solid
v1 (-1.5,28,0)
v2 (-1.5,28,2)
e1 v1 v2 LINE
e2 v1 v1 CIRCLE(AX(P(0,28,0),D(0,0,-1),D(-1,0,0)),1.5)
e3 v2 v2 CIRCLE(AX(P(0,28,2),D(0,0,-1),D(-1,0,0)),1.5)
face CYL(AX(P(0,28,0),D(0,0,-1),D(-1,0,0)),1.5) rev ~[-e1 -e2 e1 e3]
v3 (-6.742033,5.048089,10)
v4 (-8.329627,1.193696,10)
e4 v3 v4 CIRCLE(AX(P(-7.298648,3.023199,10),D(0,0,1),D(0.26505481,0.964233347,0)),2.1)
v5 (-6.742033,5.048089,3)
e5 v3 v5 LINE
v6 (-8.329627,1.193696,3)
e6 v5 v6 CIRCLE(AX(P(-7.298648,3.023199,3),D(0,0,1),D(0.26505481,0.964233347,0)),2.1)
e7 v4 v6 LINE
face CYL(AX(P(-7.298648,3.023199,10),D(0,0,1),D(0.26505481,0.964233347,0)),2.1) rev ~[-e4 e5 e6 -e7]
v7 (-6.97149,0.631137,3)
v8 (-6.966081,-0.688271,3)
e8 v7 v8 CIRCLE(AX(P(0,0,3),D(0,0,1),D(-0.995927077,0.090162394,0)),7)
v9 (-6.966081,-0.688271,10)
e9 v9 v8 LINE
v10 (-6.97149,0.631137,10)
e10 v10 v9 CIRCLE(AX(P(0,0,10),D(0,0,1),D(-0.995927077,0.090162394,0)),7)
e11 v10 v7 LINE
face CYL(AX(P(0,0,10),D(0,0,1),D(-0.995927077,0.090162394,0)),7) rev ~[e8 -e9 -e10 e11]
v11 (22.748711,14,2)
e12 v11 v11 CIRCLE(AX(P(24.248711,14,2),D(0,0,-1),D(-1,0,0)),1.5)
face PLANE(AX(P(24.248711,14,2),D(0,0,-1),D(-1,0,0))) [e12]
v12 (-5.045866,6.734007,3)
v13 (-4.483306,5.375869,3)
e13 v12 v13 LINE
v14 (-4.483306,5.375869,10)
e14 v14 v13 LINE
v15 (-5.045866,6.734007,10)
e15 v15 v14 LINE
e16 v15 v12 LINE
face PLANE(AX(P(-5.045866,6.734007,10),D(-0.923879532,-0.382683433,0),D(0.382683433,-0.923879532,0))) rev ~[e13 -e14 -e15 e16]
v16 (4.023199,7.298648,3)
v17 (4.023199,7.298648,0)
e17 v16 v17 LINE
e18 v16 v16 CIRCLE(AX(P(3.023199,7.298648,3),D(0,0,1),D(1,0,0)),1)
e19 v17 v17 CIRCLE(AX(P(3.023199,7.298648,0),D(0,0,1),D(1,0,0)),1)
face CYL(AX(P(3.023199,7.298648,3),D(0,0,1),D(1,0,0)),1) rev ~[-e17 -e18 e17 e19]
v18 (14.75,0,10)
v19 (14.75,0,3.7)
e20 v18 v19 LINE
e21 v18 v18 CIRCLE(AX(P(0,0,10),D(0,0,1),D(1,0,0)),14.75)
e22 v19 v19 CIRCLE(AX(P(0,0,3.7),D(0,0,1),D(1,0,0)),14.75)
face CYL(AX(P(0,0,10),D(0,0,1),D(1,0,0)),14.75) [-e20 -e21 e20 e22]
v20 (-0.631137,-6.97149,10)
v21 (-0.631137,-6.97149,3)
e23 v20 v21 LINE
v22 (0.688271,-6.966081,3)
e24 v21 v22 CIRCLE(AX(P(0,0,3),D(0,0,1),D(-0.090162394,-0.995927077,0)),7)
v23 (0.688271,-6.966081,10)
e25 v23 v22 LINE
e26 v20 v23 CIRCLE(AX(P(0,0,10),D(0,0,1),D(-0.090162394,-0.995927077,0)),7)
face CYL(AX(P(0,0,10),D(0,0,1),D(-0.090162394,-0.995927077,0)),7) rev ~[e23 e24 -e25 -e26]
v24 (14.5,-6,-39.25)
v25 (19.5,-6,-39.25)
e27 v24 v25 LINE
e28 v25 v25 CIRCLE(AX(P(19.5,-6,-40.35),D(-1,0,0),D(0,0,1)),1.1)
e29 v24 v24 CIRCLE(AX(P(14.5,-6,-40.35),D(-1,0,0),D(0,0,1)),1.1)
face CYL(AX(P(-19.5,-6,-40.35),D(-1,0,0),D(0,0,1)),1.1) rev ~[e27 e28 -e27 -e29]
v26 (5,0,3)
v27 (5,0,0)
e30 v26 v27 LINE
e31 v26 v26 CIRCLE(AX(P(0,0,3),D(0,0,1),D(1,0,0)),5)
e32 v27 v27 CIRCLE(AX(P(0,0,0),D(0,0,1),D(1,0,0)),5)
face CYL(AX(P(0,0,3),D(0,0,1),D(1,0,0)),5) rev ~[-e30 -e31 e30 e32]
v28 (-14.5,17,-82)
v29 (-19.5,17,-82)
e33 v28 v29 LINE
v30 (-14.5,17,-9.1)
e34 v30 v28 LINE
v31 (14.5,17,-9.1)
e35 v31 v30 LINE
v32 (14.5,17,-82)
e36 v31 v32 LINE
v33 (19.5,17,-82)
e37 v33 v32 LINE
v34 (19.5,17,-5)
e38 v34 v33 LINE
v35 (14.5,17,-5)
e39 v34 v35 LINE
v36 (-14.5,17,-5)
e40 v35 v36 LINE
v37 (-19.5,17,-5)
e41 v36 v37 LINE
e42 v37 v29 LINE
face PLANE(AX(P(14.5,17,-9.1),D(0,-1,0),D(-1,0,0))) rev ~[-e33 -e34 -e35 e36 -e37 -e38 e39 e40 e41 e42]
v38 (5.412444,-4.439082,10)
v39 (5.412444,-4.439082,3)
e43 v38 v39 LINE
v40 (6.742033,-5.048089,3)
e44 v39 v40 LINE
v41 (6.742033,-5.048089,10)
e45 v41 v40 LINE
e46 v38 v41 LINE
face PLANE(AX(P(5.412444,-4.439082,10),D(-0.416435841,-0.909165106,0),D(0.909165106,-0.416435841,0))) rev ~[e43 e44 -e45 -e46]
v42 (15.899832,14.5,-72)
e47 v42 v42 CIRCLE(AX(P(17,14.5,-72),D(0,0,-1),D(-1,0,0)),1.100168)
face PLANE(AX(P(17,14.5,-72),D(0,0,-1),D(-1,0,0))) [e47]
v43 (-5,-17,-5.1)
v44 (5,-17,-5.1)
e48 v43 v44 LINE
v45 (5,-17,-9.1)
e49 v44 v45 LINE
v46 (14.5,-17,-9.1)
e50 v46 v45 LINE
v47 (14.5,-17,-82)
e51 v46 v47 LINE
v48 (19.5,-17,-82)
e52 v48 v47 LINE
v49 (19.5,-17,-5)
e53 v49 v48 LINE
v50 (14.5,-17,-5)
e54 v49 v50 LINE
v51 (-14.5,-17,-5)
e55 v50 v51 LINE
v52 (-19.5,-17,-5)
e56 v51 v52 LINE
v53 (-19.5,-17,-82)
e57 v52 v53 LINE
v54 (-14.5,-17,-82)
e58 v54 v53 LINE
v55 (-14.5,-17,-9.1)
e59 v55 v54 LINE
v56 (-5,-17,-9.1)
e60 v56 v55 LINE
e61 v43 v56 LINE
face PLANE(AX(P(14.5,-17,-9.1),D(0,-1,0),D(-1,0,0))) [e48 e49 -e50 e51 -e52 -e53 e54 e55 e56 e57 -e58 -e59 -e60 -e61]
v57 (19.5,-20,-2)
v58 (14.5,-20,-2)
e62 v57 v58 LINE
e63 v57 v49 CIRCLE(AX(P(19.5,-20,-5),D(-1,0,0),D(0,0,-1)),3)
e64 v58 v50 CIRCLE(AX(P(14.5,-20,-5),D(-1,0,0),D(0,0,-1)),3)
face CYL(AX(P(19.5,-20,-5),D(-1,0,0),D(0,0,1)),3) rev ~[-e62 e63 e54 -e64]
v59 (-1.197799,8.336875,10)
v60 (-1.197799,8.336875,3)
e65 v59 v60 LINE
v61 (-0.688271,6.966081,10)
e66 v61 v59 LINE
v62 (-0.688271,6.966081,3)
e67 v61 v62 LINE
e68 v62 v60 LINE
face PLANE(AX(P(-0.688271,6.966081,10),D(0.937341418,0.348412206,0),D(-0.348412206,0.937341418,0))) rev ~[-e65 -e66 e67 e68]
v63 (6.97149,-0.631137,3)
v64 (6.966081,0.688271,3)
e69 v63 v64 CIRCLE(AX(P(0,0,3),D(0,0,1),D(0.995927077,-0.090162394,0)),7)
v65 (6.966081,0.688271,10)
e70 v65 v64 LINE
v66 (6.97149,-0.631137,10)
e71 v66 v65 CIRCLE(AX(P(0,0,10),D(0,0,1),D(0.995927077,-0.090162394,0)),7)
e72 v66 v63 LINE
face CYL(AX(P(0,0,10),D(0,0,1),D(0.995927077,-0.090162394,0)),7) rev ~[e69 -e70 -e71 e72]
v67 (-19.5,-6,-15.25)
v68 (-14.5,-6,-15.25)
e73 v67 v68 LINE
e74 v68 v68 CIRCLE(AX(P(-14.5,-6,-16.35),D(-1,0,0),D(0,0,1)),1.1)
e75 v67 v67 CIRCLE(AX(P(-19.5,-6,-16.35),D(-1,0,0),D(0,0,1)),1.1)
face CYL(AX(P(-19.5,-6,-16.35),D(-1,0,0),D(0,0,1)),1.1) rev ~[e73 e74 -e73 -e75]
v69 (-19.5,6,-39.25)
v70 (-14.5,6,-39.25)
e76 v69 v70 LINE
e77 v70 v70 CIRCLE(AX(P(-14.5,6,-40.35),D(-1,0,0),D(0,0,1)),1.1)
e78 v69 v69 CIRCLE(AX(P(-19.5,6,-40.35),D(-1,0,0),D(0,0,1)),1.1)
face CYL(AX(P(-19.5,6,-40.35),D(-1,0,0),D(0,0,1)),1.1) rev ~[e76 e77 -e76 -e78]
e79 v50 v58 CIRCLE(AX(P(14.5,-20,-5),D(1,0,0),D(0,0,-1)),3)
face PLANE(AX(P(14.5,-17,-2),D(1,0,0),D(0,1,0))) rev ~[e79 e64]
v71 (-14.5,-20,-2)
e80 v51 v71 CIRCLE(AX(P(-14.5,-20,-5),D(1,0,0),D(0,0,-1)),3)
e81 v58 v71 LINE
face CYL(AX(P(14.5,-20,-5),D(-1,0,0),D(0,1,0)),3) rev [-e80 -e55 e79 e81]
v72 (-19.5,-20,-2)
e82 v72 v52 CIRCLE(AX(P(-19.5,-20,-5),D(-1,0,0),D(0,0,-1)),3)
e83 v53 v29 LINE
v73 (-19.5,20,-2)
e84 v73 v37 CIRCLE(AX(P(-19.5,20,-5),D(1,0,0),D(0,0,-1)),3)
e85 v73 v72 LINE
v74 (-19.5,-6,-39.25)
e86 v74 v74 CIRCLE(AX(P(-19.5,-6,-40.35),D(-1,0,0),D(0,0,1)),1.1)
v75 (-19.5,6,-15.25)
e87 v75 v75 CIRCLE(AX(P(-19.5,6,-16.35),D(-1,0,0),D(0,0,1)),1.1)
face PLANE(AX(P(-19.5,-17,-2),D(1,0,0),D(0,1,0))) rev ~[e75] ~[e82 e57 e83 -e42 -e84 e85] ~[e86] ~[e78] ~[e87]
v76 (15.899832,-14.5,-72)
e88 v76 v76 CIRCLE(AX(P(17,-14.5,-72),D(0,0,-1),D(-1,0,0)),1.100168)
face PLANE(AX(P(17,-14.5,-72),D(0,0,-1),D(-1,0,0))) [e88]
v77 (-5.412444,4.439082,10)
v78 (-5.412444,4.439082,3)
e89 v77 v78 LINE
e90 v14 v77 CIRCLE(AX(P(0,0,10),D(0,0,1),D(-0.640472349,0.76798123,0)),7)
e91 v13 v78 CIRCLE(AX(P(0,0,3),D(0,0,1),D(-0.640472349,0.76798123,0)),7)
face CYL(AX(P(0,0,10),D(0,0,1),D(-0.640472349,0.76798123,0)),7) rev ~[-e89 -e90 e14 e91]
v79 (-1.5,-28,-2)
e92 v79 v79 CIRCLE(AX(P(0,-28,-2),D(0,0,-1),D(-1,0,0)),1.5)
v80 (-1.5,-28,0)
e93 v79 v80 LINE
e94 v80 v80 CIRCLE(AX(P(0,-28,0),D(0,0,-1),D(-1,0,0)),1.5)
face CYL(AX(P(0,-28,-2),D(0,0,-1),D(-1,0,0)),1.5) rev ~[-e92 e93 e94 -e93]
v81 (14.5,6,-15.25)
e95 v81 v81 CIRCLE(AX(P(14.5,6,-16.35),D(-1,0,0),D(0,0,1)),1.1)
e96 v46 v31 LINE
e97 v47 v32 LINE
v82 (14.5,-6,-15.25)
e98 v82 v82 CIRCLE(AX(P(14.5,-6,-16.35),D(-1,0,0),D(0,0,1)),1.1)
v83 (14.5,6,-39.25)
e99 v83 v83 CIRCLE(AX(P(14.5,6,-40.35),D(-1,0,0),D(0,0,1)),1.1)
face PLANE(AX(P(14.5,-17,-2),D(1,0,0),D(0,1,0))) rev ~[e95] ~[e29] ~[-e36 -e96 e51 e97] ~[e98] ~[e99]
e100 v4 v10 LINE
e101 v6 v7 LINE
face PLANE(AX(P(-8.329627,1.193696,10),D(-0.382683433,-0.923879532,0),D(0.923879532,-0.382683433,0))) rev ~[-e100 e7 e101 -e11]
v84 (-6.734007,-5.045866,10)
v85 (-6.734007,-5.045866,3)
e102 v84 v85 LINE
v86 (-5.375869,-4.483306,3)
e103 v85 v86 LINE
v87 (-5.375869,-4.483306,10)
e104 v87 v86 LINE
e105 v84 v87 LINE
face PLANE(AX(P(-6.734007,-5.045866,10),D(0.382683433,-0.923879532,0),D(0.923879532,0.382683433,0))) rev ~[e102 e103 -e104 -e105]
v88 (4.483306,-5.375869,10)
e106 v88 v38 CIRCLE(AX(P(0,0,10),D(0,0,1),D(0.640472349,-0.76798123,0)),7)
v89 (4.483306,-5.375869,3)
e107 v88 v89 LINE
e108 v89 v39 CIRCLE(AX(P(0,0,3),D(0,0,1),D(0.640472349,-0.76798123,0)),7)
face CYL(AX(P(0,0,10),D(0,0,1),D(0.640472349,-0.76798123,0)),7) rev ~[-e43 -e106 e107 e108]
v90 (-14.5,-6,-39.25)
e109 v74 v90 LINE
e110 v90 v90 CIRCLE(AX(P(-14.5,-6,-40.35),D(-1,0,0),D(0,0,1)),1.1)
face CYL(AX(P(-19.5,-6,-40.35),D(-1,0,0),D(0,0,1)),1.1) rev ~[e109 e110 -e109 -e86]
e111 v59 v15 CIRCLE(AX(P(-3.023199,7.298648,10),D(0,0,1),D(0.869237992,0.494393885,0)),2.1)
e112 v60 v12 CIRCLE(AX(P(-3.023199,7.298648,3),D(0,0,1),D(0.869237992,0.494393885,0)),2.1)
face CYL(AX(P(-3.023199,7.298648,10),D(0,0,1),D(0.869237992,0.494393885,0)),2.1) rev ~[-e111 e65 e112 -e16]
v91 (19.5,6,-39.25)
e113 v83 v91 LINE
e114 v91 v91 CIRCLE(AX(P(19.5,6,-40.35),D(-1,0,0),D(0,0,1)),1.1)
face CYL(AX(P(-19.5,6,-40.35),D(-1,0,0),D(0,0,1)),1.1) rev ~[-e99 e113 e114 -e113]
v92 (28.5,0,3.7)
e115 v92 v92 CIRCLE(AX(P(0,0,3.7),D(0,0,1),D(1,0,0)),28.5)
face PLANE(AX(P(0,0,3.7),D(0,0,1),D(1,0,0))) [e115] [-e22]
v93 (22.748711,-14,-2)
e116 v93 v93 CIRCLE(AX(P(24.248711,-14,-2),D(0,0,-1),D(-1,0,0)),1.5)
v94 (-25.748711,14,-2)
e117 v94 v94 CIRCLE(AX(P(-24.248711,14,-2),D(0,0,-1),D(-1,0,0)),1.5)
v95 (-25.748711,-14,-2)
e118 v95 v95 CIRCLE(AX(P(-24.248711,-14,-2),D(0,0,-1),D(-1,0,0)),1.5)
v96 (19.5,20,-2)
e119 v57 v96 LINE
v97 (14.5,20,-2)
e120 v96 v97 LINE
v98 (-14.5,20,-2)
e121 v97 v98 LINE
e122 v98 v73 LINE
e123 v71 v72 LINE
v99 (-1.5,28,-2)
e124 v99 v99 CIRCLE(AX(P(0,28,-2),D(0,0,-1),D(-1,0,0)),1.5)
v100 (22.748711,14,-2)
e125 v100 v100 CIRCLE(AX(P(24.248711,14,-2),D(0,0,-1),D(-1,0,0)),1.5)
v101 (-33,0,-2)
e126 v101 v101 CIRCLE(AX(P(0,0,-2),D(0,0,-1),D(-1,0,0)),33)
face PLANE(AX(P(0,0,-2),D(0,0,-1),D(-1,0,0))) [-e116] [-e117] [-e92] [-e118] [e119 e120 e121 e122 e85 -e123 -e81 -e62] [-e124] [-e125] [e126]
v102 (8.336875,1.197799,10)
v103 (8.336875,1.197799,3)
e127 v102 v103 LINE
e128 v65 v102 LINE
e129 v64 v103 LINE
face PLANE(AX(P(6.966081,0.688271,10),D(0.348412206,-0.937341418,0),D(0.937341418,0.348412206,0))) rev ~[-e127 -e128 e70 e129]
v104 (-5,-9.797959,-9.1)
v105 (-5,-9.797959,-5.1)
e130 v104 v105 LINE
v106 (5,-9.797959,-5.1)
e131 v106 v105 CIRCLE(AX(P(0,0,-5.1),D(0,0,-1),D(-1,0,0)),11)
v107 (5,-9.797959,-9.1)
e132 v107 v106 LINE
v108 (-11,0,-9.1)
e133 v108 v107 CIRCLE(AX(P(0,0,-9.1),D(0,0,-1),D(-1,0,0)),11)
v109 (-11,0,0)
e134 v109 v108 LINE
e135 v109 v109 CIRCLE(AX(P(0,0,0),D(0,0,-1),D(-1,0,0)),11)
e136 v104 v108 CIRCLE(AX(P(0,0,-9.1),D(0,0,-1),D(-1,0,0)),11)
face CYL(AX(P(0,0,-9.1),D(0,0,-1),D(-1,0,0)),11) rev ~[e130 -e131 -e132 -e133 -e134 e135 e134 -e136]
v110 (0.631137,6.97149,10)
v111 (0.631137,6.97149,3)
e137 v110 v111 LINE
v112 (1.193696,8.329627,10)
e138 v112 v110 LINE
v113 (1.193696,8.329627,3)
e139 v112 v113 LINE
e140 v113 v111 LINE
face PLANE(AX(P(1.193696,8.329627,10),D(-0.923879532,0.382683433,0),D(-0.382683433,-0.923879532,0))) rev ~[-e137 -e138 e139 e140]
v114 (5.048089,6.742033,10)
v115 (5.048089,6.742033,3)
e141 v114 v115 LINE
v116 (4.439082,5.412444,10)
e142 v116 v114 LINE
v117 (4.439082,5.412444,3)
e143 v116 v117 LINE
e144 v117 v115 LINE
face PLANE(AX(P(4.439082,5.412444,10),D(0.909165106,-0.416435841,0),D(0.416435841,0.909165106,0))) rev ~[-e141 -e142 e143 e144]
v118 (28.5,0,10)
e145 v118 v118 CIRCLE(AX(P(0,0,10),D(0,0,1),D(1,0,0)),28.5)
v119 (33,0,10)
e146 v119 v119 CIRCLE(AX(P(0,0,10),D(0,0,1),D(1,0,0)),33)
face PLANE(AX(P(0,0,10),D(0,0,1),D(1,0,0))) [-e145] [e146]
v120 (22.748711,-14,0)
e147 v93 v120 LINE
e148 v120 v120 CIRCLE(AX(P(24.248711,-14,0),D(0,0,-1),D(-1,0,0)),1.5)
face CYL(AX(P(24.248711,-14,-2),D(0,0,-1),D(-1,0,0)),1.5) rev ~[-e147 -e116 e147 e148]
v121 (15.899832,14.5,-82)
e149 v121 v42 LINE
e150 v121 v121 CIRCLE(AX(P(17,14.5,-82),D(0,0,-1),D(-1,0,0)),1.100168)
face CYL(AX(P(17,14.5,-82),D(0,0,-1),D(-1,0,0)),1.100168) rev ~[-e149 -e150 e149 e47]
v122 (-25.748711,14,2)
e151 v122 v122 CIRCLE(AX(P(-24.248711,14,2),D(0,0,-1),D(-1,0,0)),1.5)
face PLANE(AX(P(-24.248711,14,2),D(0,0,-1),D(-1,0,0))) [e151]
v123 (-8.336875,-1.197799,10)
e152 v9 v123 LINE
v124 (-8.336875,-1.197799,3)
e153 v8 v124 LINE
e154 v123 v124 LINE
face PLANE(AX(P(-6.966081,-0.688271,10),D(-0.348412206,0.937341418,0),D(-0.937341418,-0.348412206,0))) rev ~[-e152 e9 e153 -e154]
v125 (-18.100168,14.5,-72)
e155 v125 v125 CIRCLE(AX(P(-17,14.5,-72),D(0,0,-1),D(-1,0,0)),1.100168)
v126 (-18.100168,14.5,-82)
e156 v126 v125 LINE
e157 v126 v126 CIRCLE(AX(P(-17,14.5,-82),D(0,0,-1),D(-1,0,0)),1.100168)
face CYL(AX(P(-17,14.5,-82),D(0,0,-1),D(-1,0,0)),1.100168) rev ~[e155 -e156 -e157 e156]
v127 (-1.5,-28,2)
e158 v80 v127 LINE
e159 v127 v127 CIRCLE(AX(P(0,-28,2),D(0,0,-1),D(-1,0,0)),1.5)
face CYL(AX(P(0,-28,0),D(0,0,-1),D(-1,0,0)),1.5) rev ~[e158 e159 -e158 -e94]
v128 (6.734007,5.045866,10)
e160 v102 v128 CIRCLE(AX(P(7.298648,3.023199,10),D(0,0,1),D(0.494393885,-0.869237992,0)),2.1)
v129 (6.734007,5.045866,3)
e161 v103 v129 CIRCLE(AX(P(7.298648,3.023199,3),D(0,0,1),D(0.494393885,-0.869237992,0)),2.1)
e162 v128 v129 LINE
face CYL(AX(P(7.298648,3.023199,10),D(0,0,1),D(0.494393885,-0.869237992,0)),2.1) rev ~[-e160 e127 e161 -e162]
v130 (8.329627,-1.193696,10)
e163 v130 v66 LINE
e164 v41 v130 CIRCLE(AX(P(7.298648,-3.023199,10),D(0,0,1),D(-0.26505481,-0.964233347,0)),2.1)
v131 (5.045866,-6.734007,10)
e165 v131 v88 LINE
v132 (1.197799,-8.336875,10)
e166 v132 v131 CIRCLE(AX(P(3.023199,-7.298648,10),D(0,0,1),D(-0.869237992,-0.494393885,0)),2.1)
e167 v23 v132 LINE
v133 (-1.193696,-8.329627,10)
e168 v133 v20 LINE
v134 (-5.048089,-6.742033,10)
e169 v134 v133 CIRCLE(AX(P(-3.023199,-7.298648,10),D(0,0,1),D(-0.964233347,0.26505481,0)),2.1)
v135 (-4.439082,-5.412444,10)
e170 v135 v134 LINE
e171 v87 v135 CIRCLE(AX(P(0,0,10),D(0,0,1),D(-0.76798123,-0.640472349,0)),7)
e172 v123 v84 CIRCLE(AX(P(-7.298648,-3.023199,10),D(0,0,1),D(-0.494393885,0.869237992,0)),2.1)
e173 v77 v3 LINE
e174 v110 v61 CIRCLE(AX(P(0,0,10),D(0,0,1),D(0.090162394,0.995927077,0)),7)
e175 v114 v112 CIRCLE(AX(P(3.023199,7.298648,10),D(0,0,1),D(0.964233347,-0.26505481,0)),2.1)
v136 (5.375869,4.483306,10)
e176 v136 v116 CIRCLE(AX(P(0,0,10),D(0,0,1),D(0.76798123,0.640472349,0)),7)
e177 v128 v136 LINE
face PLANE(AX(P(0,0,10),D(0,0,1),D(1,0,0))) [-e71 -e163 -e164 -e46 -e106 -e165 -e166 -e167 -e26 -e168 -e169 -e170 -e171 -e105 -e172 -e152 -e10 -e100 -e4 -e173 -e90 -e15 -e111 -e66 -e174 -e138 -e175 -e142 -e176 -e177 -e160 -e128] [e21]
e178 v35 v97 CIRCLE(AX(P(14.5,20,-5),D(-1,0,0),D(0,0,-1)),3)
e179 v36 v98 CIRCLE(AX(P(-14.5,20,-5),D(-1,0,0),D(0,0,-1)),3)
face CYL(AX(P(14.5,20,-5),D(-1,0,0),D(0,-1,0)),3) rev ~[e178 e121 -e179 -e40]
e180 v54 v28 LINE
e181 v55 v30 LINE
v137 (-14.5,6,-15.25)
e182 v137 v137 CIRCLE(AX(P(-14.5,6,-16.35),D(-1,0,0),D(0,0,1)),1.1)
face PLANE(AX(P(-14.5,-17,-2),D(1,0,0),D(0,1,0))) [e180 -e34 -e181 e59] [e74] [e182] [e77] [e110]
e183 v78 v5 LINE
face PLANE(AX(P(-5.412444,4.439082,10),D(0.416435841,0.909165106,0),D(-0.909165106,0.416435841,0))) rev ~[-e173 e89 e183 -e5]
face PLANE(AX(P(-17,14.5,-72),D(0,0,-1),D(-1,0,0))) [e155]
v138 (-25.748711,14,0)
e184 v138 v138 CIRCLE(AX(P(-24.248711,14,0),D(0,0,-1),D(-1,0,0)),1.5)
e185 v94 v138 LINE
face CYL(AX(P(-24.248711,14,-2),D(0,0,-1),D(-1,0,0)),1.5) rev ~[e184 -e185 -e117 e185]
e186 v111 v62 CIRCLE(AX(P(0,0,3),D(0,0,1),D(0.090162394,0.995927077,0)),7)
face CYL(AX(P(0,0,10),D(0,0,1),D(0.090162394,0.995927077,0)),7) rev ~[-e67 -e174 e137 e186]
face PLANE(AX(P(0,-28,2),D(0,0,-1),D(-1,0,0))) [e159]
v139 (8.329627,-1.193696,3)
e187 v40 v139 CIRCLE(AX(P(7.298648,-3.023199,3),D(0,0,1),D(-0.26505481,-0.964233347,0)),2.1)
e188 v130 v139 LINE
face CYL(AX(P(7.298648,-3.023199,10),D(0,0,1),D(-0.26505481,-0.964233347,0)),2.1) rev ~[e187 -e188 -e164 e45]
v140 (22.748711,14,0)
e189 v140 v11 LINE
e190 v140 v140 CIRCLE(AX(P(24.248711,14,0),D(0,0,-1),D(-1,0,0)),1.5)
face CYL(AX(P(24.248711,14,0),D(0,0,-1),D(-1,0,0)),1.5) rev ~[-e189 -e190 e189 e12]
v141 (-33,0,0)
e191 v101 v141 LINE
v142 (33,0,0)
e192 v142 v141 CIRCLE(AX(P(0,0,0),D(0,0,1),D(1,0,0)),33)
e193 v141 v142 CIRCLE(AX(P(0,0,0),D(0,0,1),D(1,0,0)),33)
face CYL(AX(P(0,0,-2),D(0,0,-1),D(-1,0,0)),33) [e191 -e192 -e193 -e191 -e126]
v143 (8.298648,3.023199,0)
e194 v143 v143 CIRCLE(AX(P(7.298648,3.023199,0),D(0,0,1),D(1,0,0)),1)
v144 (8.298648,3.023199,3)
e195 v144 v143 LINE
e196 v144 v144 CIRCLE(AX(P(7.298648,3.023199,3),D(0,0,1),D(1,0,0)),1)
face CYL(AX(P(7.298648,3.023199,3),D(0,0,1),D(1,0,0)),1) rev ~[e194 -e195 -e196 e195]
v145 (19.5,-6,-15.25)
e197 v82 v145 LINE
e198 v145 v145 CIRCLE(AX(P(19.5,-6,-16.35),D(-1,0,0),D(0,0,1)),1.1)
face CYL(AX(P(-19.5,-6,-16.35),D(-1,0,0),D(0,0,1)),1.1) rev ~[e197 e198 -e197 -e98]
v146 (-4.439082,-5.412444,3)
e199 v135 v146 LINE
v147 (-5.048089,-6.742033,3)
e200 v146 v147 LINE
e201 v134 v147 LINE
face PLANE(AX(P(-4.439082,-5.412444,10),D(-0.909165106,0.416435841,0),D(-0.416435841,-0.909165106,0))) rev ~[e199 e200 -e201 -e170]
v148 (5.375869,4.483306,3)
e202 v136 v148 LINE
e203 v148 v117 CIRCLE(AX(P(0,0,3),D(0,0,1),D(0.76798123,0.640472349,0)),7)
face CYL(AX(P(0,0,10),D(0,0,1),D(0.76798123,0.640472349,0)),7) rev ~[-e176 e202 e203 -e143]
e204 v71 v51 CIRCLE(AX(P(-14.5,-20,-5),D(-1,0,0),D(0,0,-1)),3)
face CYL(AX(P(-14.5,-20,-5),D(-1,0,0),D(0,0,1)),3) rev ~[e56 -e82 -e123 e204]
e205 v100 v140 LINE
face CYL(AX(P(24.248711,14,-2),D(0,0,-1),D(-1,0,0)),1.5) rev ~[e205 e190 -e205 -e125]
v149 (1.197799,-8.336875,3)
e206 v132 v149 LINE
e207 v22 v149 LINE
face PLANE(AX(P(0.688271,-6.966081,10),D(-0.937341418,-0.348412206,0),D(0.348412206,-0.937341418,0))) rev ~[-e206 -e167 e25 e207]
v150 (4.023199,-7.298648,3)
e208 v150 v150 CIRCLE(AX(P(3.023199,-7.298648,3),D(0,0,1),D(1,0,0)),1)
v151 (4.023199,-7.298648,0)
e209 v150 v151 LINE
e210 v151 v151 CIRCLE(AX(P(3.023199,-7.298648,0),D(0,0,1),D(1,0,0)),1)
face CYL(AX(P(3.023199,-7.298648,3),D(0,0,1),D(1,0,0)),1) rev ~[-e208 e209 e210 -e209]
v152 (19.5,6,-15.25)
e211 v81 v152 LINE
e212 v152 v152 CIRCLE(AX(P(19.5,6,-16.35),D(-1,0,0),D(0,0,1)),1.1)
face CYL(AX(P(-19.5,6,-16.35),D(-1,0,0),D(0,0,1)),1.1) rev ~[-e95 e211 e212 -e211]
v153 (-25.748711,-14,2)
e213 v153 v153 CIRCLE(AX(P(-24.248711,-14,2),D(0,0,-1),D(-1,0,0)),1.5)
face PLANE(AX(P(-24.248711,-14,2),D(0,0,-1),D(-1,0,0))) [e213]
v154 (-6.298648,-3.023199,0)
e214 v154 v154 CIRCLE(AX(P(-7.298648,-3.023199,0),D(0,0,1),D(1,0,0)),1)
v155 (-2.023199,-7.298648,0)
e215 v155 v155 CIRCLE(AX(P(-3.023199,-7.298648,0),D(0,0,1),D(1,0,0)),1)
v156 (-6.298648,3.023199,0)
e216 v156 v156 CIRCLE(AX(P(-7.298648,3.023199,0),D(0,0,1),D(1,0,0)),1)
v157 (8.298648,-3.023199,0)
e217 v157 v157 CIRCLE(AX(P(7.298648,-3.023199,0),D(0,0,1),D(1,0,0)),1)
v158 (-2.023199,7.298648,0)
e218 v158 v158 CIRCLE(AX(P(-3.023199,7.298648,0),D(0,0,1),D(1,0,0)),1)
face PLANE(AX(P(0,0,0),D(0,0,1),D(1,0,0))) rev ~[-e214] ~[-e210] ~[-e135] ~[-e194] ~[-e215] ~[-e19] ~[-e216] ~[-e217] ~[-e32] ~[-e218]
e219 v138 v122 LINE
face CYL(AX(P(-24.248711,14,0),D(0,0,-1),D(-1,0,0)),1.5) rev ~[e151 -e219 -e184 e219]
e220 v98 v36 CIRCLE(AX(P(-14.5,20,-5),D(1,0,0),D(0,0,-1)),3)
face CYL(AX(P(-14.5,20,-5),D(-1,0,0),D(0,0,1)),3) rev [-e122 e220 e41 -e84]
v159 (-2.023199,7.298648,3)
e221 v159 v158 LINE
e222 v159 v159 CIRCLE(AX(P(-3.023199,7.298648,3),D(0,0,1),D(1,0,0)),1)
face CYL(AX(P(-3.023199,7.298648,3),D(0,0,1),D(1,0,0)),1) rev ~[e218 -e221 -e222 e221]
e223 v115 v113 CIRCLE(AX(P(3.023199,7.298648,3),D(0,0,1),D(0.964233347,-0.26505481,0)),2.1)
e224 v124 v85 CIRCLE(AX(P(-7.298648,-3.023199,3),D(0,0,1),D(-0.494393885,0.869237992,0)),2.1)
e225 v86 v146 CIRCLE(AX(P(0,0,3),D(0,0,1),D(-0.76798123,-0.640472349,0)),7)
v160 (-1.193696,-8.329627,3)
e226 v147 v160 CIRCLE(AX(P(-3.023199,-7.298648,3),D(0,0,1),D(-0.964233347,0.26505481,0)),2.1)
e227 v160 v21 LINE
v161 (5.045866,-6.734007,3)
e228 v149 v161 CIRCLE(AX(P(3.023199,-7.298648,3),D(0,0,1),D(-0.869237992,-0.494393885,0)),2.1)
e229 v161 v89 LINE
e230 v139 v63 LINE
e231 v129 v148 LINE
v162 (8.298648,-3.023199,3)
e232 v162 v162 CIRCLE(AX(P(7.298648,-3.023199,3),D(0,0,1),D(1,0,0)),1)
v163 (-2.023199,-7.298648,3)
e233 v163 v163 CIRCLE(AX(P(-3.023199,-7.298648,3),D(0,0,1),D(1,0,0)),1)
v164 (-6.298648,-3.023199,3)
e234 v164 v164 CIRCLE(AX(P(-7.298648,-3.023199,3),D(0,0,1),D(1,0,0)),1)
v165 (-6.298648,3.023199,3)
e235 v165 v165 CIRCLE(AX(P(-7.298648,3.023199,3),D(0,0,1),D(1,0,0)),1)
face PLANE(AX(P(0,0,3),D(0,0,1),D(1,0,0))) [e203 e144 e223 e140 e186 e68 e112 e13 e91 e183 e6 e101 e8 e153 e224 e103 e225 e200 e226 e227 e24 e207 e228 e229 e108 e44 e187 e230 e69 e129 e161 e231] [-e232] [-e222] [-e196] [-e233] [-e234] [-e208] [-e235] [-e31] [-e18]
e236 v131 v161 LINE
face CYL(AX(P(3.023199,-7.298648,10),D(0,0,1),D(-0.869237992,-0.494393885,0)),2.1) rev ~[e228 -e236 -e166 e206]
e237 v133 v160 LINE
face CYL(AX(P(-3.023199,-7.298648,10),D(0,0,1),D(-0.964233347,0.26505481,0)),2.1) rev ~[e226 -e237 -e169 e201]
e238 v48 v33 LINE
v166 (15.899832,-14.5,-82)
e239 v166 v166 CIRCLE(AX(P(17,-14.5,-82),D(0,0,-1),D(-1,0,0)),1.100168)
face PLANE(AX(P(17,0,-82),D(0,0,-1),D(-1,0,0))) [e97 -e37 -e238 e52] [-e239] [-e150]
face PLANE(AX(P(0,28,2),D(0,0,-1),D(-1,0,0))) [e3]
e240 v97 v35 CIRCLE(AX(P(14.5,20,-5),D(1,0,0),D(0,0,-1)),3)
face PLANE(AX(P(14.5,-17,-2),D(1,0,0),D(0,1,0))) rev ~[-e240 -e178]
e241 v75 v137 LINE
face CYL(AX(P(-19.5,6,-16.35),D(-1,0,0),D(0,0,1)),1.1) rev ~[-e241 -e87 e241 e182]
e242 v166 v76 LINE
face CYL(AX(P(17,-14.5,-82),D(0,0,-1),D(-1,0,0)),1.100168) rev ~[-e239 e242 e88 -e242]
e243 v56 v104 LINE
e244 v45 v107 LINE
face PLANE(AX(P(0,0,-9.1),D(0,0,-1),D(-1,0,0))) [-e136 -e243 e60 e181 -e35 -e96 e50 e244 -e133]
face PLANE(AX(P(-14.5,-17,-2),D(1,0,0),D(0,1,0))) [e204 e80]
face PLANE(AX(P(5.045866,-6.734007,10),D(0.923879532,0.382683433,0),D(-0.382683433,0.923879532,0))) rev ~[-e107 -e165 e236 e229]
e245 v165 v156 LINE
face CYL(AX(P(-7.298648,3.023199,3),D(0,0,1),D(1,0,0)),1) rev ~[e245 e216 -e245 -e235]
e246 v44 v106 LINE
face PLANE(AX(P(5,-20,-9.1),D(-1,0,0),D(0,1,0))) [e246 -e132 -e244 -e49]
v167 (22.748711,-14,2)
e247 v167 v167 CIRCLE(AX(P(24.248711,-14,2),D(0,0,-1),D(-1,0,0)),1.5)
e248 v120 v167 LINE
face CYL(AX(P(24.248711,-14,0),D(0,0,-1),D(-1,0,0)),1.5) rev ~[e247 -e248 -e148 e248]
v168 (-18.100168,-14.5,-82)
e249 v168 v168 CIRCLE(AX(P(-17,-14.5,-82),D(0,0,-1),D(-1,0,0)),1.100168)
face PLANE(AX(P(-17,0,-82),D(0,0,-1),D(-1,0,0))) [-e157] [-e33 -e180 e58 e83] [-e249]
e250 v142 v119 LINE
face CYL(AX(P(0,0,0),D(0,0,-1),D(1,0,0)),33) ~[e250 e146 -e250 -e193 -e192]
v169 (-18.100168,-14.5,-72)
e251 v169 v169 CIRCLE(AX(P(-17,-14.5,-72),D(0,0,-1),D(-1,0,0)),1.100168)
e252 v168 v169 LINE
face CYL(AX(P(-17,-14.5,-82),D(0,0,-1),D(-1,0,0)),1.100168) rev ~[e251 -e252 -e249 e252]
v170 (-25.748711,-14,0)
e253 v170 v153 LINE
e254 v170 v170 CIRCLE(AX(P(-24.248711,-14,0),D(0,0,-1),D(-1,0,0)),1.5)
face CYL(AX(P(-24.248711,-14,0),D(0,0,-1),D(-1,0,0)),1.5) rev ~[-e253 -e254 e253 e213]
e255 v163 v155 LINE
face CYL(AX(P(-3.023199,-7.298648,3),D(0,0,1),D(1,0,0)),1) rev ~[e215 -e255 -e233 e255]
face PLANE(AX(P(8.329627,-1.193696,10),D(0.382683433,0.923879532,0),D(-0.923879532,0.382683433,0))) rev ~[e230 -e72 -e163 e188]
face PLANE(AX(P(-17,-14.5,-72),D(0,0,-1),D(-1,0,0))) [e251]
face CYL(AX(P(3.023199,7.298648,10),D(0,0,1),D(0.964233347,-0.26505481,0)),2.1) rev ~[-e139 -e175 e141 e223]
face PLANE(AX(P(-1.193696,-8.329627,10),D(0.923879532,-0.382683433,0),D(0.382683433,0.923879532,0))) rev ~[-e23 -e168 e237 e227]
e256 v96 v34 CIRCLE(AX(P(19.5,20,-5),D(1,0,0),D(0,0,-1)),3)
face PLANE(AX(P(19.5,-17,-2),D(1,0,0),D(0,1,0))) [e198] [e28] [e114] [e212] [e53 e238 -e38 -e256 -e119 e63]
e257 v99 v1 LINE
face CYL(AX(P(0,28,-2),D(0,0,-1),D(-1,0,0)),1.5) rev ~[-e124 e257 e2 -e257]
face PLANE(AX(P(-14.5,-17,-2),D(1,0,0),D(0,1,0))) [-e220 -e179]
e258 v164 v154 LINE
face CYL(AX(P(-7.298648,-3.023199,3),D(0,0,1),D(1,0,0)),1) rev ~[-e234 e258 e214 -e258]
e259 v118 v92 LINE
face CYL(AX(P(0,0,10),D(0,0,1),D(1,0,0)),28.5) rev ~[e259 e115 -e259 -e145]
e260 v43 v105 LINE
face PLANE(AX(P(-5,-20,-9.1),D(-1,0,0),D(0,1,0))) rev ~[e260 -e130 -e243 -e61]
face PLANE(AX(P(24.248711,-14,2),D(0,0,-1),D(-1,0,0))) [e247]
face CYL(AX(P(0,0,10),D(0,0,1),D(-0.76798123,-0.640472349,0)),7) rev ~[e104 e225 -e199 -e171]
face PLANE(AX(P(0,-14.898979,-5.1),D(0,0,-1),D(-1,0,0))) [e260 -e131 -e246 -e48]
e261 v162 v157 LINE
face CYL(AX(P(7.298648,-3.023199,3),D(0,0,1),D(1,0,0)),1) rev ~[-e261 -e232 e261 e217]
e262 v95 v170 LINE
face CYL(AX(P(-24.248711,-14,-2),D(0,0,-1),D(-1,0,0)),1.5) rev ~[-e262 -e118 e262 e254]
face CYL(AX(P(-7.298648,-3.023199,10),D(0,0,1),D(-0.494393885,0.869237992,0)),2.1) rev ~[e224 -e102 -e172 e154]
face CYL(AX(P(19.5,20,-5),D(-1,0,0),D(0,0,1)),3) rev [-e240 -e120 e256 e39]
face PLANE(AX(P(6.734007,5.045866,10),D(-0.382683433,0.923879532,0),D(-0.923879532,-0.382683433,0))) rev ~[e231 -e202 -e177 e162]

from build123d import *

# Parameters (mm, degrees)
CROQUIS1_R              = 33
SALIENTE_EXTRUIR3_DEPTH = 10
CROQUIS6_R              = 1.5
CORTAR_EXTRUIR4_DEPTH   = 2
SALIENTE_EXTRUIR5_START = 2
CROQUIS7_R              = 33
CROQUIS7_R_2            = 11
CROQUIS7_R_3            = 1.5
SALIENTE_EXTRUIR5_DEPTH = 2
CROQUIS8_W              = 5
CROQUIS8_H              = 34
SALIENTE_EXTRUIR6_DEPTH = 80
REDONDEO1_R             = 3
CORTAR_EXTRUIR5_REACH   = 104.807
CROQUIS9_R              = 1.1
SALIENTE_EXTRUIR7_START = 7.1
CROQUIS10_W             = 29
CROQUIS10_H             = 34
CROQUIS10_R             = 11
SALIENTE_EXTRUIR7_DEPTH = 7.1
REDONDEO2_R             = 3
CROQUIS12_R             = 1.100168331
CORTAR_EXTRUIR6_DEPTH   = 10
CROQUIS13_R             = 28.5
CROQUIS13_R_2           = 14.75
CORTAR_EXTRUIR7_DEPTH   = 6.3
CROQUIS16_W             = 10
CROQUIS16_H             = 10.202041029
CORTAR_EXTRUIR11_DEPTH  = 4
CORTAR_EXTRUIR15_DEPTH  = 7
CORTAR_EXTRUIR16_REACH  = 98.969
CROQUIS20_R             = 1
CORTAR_EXTRUIR17_REACH  = 98.969
CROQUIS21_R             = 5


with BuildPart() as part:
    # Croquis1 → Saliente-Extruir3 (new body)
    with BuildSketch(Plane.XY):
        Circle(CROQUIS1_R)
    extrude(amount=SALIENTE_EXTRUIR3_DEPTH)

    # Croquis6 → Cortar-Extruir4 (cut)
    with BuildSketch(Plane(origin=(0, 0, 0), x_dir=(-1, 0, 0), z_dir=(0, 0, -1))):
        with Locations((0, 28)):
            Circle(CROQUIS6_R)
        with Locations((24.248711306, 14)):
            Circle(CROQUIS6_R)
        with Locations((24.248711306, -14)):
            Circle(CROQUIS6_R)
        with Locations((0, -28)):
            Circle(CROQUIS6_R)
        with Locations((-24.248711306, -14)):
            Circle(CROQUIS6_R)
        with Locations((-24.248711306, 14)):
            Circle(CROQUIS6_R)
    extrude(amount=-CORTAR_EXTRUIR4_DEPTH, mode=Mode.SUBTRACT)

    # Croquis7 → Saliente-Extruir5 (add)
    with BuildSketch(Plane(origin=(0, 0, 0), x_dir=(-1, 0, 0), z_dir=(0, 0, -1)).offset(SALIENTE_EXTRUIR5_START)):
        Circle(CROQUIS7_R)
        Circle(CROQUIS7_R_2, mode=Mode.SUBTRACT)
        with Locations((24.248711306, -14)):
            Circle(CROQUIS7_R_3, mode=Mode.SUBTRACT)
        with Locations((0, -28)):
            Circle(CROQUIS7_R_3, mode=Mode.SUBTRACT)
        with Locations((-24.248711306, -14)):
            Circle(CROQUIS7_R_3, mode=Mode.SUBTRACT)
        with Locations((24.248711306, 14)):
            Circle(CROQUIS7_R_3, mode=Mode.SUBTRACT)
        with Locations((0, 28)):
            Circle(CROQUIS7_R_3, mode=Mode.SUBTRACT)
        with Locations((-24.248711306, 14)):
            Circle(CROQUIS7_R_3, mode=Mode.SUBTRACT)
    extrude(amount=-SALIENTE_EXTRUIR5_DEPTH)

    # Croquis8 → Saliente-Extruir6 (add)
    with BuildSketch(Plane(origin=(0, 0, -2), x_dir=(-1, 0, 0), z_dir=(0, 0, -1))):
        with Locations((-17, 0)):
            Rectangle(CROQUIS8_W, CROQUIS8_H)
        with Locations((17, 0)):
            Rectangle(CROQUIS8_W, CROQUIS8_H)
    extrude(amount=SALIENTE_EXTRUIR6_DEPTH)

    # Redondeo1
    redondeo1_edges = [part.edges().sort_by_distance(p)[0] for p in [
        (17, -17, -2),
        (17, 17, -2),
        (-17, -17, -2),
        (-17, 17, -2),
    ]]
    fillet(redondeo1_edges, radius=REDONDEO1_R)

    # Cortar-Extruir5: up to this face of the body (flat: up to its plane)
    cortar_extruir5_end = Plane(part.part.faces().sort_by_distance((19.5, 0, -41.944224496))[0])
    # Croquis9 → Cortar-Extruir5 (cut, up to the picked face)
    with BuildSketch(Plane.ZY.offset(19.5), mode=Mode.PRIVATE) as cortar_extruir5_sk1:
        with Locations((-16.35, 6)):
            Circle(CROQUIS9_R)
    cortar_extruir5_tool1 = split(extrude(cortar_extruir5_sk1.sketch, amount=-CORTAR_EXTRUIR5_REACH, mode=Mode.PRIVATE), bisect_by=cortar_extruir5_end, keep=Keep.BOTH, mode=Mode.PRIVATE)
    # Croquis9 → Cortar-Extruir5 (cut, up to the picked face)
    with BuildSketch(Plane.ZY.offset(19.5), mode=Mode.PRIVATE) as cortar_extruir5_sk2:
        with Locations((-16.35, -6)):
            Circle(CROQUIS9_R)
    cortar_extruir5_tool2 = split(extrude(cortar_extruir5_sk2.sketch, amount=-CORTAR_EXTRUIR5_REACH, mode=Mode.PRIVATE), bisect_by=cortar_extruir5_end, keep=Keep.BOTH, mode=Mode.PRIVATE)
    # Croquis9 → Cortar-Extruir5 (cut, up to the picked face)
    with BuildSketch(Plane.ZY.offset(19.5), mode=Mode.PRIVATE) as cortar_extruir5_sk3:
        with Locations((-40.35, 6)):
            Circle(CROQUIS9_R)
    cortar_extruir5_tool3 = split(extrude(cortar_extruir5_sk3.sketch, amount=-CORTAR_EXTRUIR5_REACH, mode=Mode.PRIVATE), bisect_by=cortar_extruir5_end, keep=Keep.BOTH, mode=Mode.PRIVATE)
    # Croquis9 → Cortar-Extruir5 (cut, up to the picked face)
    with BuildSketch(Plane.ZY.offset(19.5), mode=Mode.PRIVATE) as cortar_extruir5_sk4:
        with Locations((-40.35, -6)):
            Circle(CROQUIS9_R)
    cortar_extruir5_tool4 = split(extrude(cortar_extruir5_sk4.sketch, amount=-CORTAR_EXTRUIR5_REACH, mode=Mode.PRIVATE), bisect_by=cortar_extruir5_end, keep=Keep.BOTH, mode=Mode.PRIVATE)
    add(cortar_extruir5_tool1.solids().sort_by(Axis((-19.5, 6, -16.35), (1, 0, 0)))[0], mode=Mode.SUBTRACT)
    add(cortar_extruir5_tool2.solids().sort_by(Axis((-19.5, -6, -16.35), (1, 0, 0)))[0], mode=Mode.SUBTRACT)
    add(cortar_extruir5_tool3.solids().sort_by(Axis((-19.5, 6, -40.35), (1, 0, 0)))[0], mode=Mode.SUBTRACT)
    add(cortar_extruir5_tool4.solids().sort_by(Axis((-19.5, -6, -40.35), (1, 0, 0)))[0], mode=Mode.SUBTRACT)

    # Croquis10 → Saliente-Extruir7 (add)
    with BuildSketch(Plane(origin=(0, 0, -2), x_dir=(-1, 0, 0), z_dir=(0, 0, -1)).offset(SALIENTE_EXTRUIR7_START)):
        Rectangle(CROQUIS10_W, CROQUIS10_H)
        Circle(CROQUIS10_R, mode=Mode.SUBTRACT)
    extrude(amount=-SALIENTE_EXTRUIR7_DEPTH)

    # Redondeo2
    redondeo2_edges = [part.edges().sort_by_distance(p)[0] for p in [
        (0, 17, -2),
        (0, -17, -2),
    ]]
    fillet(redondeo2_edges, radius=REDONDEO2_R)

    # Croquis12 → Cortar-Extruir6 (cut)
    with BuildSketch(Plane(origin=(0, 0, -82), x_dir=(-1, 0, 0), z_dir=(0, 0, -1))):
        with Locations((-17, 14.5)):
            Circle(CROQUIS12_R)
        with Locations((-17, -14.5)):
            Circle(CROQUIS12_R)
        with Locations((17, -14.5)):
            Circle(CROQUIS12_R)
        with Locations((17, 14.5)):
            Circle(CROQUIS12_R)
    extrude(amount=-CORTAR_EXTRUIR6_DEPTH, mode=Mode.SUBTRACT)

    # Croquis13 → Cortar-Extruir7 (cut)
    with BuildSketch(Plane.XY.offset(10)):
        Circle(CROQUIS13_R)
        Circle(CROQUIS13_R_2, mode=Mode.SUBTRACT)
    extrude(amount=-CORTAR_EXTRUIR7_DEPTH, mode=Mode.SUBTRACT)

    # Croquis16 → Cortar-Extruir11 (cut)
    with BuildSketch(Plane(origin=(0, 0, -9.1), x_dir=(-1, 0, 0), z_dir=(0, 0, -1))):
        with Locations((0, -14.898979485)):
            Rectangle(CROQUIS16_W, CROQUIS16_H)
    extrude(amount=-CORTAR_EXTRUIR11_DEPTH, mode=Mode.SUBTRACT)

    # Croquis19 → Cortar-Extruir15 (cut)
    with BuildSketch(Plane.XY.offset(10)):
        with BuildLine():
            Line((6.734006542, 5.045865593), (5.375868613, 4.483306443))
            ThreePointArc((5.375868613, 4.483306443), (4.929415402, 4.969996358), (4.439081587, 5.412444426))
            Line((4.439081587, 5.412444426), (5.048089145, 6.742033206))
            ThreePointArc((5.048089145, 6.742033206), (3.822985267, 9.240385187), (1.193695913, 8.329627468))
            Line((1.193695913, 8.329627468), (0.631136763, 6.971489539))
            ThreePointArc((0.631136763, 6.971489539), (-0.028695069, 6.999941185), (-0.688271463, 6.966080849))
            Line((-0.688271463, 6.966080849), (-1.197799333, 8.336875465))
            ThreePointArc((-1.197799333, 8.336875465), (-3.83068022, 9.237197833), (-5.045865593, 6.734006542))
            Line((-5.045865593, 6.734006542), (-4.483306443, 5.375868613))
            ThreePointArc((-4.483306443, 5.375868613), (-4.969996358, 4.929415402), (-5.412444426, 4.439081587))
            Line((-5.412444426, 4.439081587), (-6.742033206, 5.048089145))
            ThreePointArc((-6.742033206, 5.048089145), (-9.240385187, 3.822985267), (-8.329627468, 1.193695913))
            Line((-8.329627468, 1.193695913), (-6.971489539, 0.631136763))
            ThreePointArc((-6.971489539, 0.631136763), (-6.999941185, -0.028695069), (-6.966080849, -0.688271463))
            Line((-6.966080849, -0.688271463), (-8.336875465, -1.197799333))
            ThreePointArc((-8.336875465, -1.197799333), (-9.237197833, -3.83068022), (-6.734006542, -5.045865593))
            Line((-6.734006542, -5.045865593), (-5.375868613, -4.483306443))
            ThreePointArc((-5.375868613, -4.483306443), (-4.929415402, -4.969996358), (-4.439081587, -5.412444426))
            Line((-4.439081587, -5.412444426), (-5.048089145, -6.742033206))
            ThreePointArc((-5.048089145, -6.742033206), (-3.822985267, -9.240385187), (-1.193695913, -8.329627468))
            Line((-1.193695913, -8.329627468), (-0.631136763, -6.971489539))
            ThreePointArc((-0.631136763, -6.971489539), (0.028695069, -6.999941185), (0.688271463, -6.966080849))
            Line((0.688271463, -6.966080849), (1.197799333, -8.336875465))
            ThreePointArc((1.197799333, -8.336875465), (3.83068022, -9.237197833), (5.045865593, -6.734006542))
            Line((5.045865593, -6.734006542), (4.483306443, -5.375868613))
            ThreePointArc((4.483306443, -5.375868613), (4.969996358, -4.929415402), (5.412444426, -4.439081587))
            Line((5.412444426, -4.439081587), (6.742033206, -5.048089145))
            ThreePointArc((6.742033206, -5.048089145), (9.240385187, -3.822985267), (8.329627468, -1.193695913))
            Line((8.329627468, -1.193695913), (6.971489539, -0.631136763))
            ThreePointArc((6.971489539, -0.631136763), (6.999941185, 0.028695069), (6.966080849, 0.688271463))
            Line((6.966080849, 0.688271463), (8.336875465, 1.197799333))
            ThreePointArc((8.336875465, 1.197799333), (9.237197833, 3.83068022), (6.734006542, 5.045865593))
        make_face()
    extrude(amount=-CORTAR_EXTRUIR15_DEPTH, mode=Mode.SUBTRACT)

    # Croquis20 → Cortar-Extruir16 (cut, up to next)
    with BuildSketch(Plane.XY.offset(3), mode=Mode.PRIVATE) as cortar_extruir16_sk1:
        with Locations((-7.298648307, 3.023199116)):
            Circle(CROQUIS20_R)
    cortar_extruir16_tool1 = extrude(cortar_extruir16_sk1.sketch, amount=-CORTAR_EXTRUIR16_REACH, mode=Mode.PRIVATE) & part.part
    # Croquis20 → Cortar-Extruir16 (cut, up to next)
    with BuildSketch(Plane.XY.offset(3), mode=Mode.PRIVATE) as cortar_extruir16_sk2:
        with Locations((-7.298648307, -3.023199116)):
            Circle(CROQUIS20_R)
    cortar_extruir16_tool2 = extrude(cortar_extruir16_sk2.sketch, amount=-CORTAR_EXTRUIR16_REACH, mode=Mode.PRIVATE) & part.part
    # Croquis20 → Cortar-Extruir16 (cut, up to next)
    with BuildSketch(Plane.XY.offset(3), mode=Mode.PRIVATE) as cortar_extruir16_sk3:
        with Locations((-3.023199116, -7.298648307)):
            Circle(CROQUIS20_R)
    cortar_extruir16_tool3 = extrude(cortar_extruir16_sk3.sketch, amount=-CORTAR_EXTRUIR16_REACH, mode=Mode.PRIVATE) & part.part
    # Croquis20 → Cortar-Extruir16 (cut, up to next)
    with BuildSketch(Plane.XY.offset(3), mode=Mode.PRIVATE) as cortar_extruir16_sk4:
        with Locations((3.023199116, -7.298648307)):
            Circle(CROQUIS20_R)
    cortar_extruir16_tool4 = extrude(cortar_extruir16_sk4.sketch, amount=-CORTAR_EXTRUIR16_REACH, mode=Mode.PRIVATE) & part.part
    # Croquis20 → Cortar-Extruir16 (cut, up to next)
    with BuildSketch(Plane.XY.offset(3), mode=Mode.PRIVATE) as cortar_extruir16_sk5:
        with Locations((7.298648307, -3.023199116)):
            Circle(CROQUIS20_R)
    cortar_extruir16_tool5 = extrude(cortar_extruir16_sk5.sketch, amount=-CORTAR_EXTRUIR16_REACH, mode=Mode.PRIVATE) & part.part
    # Croquis20 → Cortar-Extruir16 (cut, up to next)
    with BuildSketch(Plane.XY.offset(3), mode=Mode.PRIVATE) as cortar_extruir16_sk6:
        with Locations((7.298648307, 3.023199116)):
            Circle(CROQUIS20_R)
    cortar_extruir16_tool6 = extrude(cortar_extruir16_sk6.sketch, amount=-CORTAR_EXTRUIR16_REACH, mode=Mode.PRIVATE) & part.part
    # Croquis20 → Cortar-Extruir16 (cut, up to next)
    with BuildSketch(Plane.XY.offset(3), mode=Mode.PRIVATE) as cortar_extruir16_sk7:
        with Locations((3.023199116, 7.298648307)):
            Circle(CROQUIS20_R)
    cortar_extruir16_tool7 = extrude(cortar_extruir16_sk7.sketch, amount=-CORTAR_EXTRUIR16_REACH, mode=Mode.PRIVATE) & part.part
    # Croquis20 → Cortar-Extruir16 (cut, up to next)
    with BuildSketch(Plane.XY.offset(3), mode=Mode.PRIVATE) as cortar_extruir16_sk8:
        with Locations((-3.023199116, 7.298648307)):
            Circle(CROQUIS20_R)
    cortar_extruir16_tool8 = extrude(cortar_extruir16_sk8.sketch, amount=-CORTAR_EXTRUIR16_REACH, mode=Mode.PRIVATE) & part.part
    add(cortar_extruir16_tool1.solids().sort_by_distance((-7.298648, 3.023199, 3))[0], mode=Mode.SUBTRACT)
    add(cortar_extruir16_tool2.solids().sort_by_distance((-7.298648, -3.023199, 3))[0], mode=Mode.SUBTRACT)
    add(cortar_extruir16_tool3.solids().sort_by_distance((-3.023199, -7.298648, 3))[0], mode=Mode.SUBTRACT)
    add(cortar_extruir16_tool4.solids().sort_by_distance((3.023199, -7.298648, 3))[0], mode=Mode.SUBTRACT)
    add(cortar_extruir16_tool5.solids().sort_by_distance((7.298648, -3.023199, 3))[0], mode=Mode.SUBTRACT)
    add(cortar_extruir16_tool6.solids().sort_by_distance((7.298648, 3.023199, 3))[0], mode=Mode.SUBTRACT)
    add(cortar_extruir16_tool7.solids().sort_by_distance((3.023199, 7.298648, 3))[0], mode=Mode.SUBTRACT)
    add(cortar_extruir16_tool8.solids().sort_by_distance((-3.023199, 7.298648, 3))[0], mode=Mode.SUBTRACT)

    # Croquis21 → Cortar-Extruir17 (cut, up to next)
    with BuildSketch(Plane.XY.offset(3), mode=Mode.PRIVATE) as cortar_extruir17_sk1:
        Circle(CROQUIS21_R)
    cortar_extruir17_tool1 = extrude(cortar_extruir17_sk1.sketch, amount=-CORTAR_EXTRUIR17_REACH, mode=Mode.PRIVATE) & part.part
    add(cortar_extruir17_tool1.solids().sort_by_distance((0, 0, 3))[0], mode=Mode.SUBTRACT)


solid = part.part
